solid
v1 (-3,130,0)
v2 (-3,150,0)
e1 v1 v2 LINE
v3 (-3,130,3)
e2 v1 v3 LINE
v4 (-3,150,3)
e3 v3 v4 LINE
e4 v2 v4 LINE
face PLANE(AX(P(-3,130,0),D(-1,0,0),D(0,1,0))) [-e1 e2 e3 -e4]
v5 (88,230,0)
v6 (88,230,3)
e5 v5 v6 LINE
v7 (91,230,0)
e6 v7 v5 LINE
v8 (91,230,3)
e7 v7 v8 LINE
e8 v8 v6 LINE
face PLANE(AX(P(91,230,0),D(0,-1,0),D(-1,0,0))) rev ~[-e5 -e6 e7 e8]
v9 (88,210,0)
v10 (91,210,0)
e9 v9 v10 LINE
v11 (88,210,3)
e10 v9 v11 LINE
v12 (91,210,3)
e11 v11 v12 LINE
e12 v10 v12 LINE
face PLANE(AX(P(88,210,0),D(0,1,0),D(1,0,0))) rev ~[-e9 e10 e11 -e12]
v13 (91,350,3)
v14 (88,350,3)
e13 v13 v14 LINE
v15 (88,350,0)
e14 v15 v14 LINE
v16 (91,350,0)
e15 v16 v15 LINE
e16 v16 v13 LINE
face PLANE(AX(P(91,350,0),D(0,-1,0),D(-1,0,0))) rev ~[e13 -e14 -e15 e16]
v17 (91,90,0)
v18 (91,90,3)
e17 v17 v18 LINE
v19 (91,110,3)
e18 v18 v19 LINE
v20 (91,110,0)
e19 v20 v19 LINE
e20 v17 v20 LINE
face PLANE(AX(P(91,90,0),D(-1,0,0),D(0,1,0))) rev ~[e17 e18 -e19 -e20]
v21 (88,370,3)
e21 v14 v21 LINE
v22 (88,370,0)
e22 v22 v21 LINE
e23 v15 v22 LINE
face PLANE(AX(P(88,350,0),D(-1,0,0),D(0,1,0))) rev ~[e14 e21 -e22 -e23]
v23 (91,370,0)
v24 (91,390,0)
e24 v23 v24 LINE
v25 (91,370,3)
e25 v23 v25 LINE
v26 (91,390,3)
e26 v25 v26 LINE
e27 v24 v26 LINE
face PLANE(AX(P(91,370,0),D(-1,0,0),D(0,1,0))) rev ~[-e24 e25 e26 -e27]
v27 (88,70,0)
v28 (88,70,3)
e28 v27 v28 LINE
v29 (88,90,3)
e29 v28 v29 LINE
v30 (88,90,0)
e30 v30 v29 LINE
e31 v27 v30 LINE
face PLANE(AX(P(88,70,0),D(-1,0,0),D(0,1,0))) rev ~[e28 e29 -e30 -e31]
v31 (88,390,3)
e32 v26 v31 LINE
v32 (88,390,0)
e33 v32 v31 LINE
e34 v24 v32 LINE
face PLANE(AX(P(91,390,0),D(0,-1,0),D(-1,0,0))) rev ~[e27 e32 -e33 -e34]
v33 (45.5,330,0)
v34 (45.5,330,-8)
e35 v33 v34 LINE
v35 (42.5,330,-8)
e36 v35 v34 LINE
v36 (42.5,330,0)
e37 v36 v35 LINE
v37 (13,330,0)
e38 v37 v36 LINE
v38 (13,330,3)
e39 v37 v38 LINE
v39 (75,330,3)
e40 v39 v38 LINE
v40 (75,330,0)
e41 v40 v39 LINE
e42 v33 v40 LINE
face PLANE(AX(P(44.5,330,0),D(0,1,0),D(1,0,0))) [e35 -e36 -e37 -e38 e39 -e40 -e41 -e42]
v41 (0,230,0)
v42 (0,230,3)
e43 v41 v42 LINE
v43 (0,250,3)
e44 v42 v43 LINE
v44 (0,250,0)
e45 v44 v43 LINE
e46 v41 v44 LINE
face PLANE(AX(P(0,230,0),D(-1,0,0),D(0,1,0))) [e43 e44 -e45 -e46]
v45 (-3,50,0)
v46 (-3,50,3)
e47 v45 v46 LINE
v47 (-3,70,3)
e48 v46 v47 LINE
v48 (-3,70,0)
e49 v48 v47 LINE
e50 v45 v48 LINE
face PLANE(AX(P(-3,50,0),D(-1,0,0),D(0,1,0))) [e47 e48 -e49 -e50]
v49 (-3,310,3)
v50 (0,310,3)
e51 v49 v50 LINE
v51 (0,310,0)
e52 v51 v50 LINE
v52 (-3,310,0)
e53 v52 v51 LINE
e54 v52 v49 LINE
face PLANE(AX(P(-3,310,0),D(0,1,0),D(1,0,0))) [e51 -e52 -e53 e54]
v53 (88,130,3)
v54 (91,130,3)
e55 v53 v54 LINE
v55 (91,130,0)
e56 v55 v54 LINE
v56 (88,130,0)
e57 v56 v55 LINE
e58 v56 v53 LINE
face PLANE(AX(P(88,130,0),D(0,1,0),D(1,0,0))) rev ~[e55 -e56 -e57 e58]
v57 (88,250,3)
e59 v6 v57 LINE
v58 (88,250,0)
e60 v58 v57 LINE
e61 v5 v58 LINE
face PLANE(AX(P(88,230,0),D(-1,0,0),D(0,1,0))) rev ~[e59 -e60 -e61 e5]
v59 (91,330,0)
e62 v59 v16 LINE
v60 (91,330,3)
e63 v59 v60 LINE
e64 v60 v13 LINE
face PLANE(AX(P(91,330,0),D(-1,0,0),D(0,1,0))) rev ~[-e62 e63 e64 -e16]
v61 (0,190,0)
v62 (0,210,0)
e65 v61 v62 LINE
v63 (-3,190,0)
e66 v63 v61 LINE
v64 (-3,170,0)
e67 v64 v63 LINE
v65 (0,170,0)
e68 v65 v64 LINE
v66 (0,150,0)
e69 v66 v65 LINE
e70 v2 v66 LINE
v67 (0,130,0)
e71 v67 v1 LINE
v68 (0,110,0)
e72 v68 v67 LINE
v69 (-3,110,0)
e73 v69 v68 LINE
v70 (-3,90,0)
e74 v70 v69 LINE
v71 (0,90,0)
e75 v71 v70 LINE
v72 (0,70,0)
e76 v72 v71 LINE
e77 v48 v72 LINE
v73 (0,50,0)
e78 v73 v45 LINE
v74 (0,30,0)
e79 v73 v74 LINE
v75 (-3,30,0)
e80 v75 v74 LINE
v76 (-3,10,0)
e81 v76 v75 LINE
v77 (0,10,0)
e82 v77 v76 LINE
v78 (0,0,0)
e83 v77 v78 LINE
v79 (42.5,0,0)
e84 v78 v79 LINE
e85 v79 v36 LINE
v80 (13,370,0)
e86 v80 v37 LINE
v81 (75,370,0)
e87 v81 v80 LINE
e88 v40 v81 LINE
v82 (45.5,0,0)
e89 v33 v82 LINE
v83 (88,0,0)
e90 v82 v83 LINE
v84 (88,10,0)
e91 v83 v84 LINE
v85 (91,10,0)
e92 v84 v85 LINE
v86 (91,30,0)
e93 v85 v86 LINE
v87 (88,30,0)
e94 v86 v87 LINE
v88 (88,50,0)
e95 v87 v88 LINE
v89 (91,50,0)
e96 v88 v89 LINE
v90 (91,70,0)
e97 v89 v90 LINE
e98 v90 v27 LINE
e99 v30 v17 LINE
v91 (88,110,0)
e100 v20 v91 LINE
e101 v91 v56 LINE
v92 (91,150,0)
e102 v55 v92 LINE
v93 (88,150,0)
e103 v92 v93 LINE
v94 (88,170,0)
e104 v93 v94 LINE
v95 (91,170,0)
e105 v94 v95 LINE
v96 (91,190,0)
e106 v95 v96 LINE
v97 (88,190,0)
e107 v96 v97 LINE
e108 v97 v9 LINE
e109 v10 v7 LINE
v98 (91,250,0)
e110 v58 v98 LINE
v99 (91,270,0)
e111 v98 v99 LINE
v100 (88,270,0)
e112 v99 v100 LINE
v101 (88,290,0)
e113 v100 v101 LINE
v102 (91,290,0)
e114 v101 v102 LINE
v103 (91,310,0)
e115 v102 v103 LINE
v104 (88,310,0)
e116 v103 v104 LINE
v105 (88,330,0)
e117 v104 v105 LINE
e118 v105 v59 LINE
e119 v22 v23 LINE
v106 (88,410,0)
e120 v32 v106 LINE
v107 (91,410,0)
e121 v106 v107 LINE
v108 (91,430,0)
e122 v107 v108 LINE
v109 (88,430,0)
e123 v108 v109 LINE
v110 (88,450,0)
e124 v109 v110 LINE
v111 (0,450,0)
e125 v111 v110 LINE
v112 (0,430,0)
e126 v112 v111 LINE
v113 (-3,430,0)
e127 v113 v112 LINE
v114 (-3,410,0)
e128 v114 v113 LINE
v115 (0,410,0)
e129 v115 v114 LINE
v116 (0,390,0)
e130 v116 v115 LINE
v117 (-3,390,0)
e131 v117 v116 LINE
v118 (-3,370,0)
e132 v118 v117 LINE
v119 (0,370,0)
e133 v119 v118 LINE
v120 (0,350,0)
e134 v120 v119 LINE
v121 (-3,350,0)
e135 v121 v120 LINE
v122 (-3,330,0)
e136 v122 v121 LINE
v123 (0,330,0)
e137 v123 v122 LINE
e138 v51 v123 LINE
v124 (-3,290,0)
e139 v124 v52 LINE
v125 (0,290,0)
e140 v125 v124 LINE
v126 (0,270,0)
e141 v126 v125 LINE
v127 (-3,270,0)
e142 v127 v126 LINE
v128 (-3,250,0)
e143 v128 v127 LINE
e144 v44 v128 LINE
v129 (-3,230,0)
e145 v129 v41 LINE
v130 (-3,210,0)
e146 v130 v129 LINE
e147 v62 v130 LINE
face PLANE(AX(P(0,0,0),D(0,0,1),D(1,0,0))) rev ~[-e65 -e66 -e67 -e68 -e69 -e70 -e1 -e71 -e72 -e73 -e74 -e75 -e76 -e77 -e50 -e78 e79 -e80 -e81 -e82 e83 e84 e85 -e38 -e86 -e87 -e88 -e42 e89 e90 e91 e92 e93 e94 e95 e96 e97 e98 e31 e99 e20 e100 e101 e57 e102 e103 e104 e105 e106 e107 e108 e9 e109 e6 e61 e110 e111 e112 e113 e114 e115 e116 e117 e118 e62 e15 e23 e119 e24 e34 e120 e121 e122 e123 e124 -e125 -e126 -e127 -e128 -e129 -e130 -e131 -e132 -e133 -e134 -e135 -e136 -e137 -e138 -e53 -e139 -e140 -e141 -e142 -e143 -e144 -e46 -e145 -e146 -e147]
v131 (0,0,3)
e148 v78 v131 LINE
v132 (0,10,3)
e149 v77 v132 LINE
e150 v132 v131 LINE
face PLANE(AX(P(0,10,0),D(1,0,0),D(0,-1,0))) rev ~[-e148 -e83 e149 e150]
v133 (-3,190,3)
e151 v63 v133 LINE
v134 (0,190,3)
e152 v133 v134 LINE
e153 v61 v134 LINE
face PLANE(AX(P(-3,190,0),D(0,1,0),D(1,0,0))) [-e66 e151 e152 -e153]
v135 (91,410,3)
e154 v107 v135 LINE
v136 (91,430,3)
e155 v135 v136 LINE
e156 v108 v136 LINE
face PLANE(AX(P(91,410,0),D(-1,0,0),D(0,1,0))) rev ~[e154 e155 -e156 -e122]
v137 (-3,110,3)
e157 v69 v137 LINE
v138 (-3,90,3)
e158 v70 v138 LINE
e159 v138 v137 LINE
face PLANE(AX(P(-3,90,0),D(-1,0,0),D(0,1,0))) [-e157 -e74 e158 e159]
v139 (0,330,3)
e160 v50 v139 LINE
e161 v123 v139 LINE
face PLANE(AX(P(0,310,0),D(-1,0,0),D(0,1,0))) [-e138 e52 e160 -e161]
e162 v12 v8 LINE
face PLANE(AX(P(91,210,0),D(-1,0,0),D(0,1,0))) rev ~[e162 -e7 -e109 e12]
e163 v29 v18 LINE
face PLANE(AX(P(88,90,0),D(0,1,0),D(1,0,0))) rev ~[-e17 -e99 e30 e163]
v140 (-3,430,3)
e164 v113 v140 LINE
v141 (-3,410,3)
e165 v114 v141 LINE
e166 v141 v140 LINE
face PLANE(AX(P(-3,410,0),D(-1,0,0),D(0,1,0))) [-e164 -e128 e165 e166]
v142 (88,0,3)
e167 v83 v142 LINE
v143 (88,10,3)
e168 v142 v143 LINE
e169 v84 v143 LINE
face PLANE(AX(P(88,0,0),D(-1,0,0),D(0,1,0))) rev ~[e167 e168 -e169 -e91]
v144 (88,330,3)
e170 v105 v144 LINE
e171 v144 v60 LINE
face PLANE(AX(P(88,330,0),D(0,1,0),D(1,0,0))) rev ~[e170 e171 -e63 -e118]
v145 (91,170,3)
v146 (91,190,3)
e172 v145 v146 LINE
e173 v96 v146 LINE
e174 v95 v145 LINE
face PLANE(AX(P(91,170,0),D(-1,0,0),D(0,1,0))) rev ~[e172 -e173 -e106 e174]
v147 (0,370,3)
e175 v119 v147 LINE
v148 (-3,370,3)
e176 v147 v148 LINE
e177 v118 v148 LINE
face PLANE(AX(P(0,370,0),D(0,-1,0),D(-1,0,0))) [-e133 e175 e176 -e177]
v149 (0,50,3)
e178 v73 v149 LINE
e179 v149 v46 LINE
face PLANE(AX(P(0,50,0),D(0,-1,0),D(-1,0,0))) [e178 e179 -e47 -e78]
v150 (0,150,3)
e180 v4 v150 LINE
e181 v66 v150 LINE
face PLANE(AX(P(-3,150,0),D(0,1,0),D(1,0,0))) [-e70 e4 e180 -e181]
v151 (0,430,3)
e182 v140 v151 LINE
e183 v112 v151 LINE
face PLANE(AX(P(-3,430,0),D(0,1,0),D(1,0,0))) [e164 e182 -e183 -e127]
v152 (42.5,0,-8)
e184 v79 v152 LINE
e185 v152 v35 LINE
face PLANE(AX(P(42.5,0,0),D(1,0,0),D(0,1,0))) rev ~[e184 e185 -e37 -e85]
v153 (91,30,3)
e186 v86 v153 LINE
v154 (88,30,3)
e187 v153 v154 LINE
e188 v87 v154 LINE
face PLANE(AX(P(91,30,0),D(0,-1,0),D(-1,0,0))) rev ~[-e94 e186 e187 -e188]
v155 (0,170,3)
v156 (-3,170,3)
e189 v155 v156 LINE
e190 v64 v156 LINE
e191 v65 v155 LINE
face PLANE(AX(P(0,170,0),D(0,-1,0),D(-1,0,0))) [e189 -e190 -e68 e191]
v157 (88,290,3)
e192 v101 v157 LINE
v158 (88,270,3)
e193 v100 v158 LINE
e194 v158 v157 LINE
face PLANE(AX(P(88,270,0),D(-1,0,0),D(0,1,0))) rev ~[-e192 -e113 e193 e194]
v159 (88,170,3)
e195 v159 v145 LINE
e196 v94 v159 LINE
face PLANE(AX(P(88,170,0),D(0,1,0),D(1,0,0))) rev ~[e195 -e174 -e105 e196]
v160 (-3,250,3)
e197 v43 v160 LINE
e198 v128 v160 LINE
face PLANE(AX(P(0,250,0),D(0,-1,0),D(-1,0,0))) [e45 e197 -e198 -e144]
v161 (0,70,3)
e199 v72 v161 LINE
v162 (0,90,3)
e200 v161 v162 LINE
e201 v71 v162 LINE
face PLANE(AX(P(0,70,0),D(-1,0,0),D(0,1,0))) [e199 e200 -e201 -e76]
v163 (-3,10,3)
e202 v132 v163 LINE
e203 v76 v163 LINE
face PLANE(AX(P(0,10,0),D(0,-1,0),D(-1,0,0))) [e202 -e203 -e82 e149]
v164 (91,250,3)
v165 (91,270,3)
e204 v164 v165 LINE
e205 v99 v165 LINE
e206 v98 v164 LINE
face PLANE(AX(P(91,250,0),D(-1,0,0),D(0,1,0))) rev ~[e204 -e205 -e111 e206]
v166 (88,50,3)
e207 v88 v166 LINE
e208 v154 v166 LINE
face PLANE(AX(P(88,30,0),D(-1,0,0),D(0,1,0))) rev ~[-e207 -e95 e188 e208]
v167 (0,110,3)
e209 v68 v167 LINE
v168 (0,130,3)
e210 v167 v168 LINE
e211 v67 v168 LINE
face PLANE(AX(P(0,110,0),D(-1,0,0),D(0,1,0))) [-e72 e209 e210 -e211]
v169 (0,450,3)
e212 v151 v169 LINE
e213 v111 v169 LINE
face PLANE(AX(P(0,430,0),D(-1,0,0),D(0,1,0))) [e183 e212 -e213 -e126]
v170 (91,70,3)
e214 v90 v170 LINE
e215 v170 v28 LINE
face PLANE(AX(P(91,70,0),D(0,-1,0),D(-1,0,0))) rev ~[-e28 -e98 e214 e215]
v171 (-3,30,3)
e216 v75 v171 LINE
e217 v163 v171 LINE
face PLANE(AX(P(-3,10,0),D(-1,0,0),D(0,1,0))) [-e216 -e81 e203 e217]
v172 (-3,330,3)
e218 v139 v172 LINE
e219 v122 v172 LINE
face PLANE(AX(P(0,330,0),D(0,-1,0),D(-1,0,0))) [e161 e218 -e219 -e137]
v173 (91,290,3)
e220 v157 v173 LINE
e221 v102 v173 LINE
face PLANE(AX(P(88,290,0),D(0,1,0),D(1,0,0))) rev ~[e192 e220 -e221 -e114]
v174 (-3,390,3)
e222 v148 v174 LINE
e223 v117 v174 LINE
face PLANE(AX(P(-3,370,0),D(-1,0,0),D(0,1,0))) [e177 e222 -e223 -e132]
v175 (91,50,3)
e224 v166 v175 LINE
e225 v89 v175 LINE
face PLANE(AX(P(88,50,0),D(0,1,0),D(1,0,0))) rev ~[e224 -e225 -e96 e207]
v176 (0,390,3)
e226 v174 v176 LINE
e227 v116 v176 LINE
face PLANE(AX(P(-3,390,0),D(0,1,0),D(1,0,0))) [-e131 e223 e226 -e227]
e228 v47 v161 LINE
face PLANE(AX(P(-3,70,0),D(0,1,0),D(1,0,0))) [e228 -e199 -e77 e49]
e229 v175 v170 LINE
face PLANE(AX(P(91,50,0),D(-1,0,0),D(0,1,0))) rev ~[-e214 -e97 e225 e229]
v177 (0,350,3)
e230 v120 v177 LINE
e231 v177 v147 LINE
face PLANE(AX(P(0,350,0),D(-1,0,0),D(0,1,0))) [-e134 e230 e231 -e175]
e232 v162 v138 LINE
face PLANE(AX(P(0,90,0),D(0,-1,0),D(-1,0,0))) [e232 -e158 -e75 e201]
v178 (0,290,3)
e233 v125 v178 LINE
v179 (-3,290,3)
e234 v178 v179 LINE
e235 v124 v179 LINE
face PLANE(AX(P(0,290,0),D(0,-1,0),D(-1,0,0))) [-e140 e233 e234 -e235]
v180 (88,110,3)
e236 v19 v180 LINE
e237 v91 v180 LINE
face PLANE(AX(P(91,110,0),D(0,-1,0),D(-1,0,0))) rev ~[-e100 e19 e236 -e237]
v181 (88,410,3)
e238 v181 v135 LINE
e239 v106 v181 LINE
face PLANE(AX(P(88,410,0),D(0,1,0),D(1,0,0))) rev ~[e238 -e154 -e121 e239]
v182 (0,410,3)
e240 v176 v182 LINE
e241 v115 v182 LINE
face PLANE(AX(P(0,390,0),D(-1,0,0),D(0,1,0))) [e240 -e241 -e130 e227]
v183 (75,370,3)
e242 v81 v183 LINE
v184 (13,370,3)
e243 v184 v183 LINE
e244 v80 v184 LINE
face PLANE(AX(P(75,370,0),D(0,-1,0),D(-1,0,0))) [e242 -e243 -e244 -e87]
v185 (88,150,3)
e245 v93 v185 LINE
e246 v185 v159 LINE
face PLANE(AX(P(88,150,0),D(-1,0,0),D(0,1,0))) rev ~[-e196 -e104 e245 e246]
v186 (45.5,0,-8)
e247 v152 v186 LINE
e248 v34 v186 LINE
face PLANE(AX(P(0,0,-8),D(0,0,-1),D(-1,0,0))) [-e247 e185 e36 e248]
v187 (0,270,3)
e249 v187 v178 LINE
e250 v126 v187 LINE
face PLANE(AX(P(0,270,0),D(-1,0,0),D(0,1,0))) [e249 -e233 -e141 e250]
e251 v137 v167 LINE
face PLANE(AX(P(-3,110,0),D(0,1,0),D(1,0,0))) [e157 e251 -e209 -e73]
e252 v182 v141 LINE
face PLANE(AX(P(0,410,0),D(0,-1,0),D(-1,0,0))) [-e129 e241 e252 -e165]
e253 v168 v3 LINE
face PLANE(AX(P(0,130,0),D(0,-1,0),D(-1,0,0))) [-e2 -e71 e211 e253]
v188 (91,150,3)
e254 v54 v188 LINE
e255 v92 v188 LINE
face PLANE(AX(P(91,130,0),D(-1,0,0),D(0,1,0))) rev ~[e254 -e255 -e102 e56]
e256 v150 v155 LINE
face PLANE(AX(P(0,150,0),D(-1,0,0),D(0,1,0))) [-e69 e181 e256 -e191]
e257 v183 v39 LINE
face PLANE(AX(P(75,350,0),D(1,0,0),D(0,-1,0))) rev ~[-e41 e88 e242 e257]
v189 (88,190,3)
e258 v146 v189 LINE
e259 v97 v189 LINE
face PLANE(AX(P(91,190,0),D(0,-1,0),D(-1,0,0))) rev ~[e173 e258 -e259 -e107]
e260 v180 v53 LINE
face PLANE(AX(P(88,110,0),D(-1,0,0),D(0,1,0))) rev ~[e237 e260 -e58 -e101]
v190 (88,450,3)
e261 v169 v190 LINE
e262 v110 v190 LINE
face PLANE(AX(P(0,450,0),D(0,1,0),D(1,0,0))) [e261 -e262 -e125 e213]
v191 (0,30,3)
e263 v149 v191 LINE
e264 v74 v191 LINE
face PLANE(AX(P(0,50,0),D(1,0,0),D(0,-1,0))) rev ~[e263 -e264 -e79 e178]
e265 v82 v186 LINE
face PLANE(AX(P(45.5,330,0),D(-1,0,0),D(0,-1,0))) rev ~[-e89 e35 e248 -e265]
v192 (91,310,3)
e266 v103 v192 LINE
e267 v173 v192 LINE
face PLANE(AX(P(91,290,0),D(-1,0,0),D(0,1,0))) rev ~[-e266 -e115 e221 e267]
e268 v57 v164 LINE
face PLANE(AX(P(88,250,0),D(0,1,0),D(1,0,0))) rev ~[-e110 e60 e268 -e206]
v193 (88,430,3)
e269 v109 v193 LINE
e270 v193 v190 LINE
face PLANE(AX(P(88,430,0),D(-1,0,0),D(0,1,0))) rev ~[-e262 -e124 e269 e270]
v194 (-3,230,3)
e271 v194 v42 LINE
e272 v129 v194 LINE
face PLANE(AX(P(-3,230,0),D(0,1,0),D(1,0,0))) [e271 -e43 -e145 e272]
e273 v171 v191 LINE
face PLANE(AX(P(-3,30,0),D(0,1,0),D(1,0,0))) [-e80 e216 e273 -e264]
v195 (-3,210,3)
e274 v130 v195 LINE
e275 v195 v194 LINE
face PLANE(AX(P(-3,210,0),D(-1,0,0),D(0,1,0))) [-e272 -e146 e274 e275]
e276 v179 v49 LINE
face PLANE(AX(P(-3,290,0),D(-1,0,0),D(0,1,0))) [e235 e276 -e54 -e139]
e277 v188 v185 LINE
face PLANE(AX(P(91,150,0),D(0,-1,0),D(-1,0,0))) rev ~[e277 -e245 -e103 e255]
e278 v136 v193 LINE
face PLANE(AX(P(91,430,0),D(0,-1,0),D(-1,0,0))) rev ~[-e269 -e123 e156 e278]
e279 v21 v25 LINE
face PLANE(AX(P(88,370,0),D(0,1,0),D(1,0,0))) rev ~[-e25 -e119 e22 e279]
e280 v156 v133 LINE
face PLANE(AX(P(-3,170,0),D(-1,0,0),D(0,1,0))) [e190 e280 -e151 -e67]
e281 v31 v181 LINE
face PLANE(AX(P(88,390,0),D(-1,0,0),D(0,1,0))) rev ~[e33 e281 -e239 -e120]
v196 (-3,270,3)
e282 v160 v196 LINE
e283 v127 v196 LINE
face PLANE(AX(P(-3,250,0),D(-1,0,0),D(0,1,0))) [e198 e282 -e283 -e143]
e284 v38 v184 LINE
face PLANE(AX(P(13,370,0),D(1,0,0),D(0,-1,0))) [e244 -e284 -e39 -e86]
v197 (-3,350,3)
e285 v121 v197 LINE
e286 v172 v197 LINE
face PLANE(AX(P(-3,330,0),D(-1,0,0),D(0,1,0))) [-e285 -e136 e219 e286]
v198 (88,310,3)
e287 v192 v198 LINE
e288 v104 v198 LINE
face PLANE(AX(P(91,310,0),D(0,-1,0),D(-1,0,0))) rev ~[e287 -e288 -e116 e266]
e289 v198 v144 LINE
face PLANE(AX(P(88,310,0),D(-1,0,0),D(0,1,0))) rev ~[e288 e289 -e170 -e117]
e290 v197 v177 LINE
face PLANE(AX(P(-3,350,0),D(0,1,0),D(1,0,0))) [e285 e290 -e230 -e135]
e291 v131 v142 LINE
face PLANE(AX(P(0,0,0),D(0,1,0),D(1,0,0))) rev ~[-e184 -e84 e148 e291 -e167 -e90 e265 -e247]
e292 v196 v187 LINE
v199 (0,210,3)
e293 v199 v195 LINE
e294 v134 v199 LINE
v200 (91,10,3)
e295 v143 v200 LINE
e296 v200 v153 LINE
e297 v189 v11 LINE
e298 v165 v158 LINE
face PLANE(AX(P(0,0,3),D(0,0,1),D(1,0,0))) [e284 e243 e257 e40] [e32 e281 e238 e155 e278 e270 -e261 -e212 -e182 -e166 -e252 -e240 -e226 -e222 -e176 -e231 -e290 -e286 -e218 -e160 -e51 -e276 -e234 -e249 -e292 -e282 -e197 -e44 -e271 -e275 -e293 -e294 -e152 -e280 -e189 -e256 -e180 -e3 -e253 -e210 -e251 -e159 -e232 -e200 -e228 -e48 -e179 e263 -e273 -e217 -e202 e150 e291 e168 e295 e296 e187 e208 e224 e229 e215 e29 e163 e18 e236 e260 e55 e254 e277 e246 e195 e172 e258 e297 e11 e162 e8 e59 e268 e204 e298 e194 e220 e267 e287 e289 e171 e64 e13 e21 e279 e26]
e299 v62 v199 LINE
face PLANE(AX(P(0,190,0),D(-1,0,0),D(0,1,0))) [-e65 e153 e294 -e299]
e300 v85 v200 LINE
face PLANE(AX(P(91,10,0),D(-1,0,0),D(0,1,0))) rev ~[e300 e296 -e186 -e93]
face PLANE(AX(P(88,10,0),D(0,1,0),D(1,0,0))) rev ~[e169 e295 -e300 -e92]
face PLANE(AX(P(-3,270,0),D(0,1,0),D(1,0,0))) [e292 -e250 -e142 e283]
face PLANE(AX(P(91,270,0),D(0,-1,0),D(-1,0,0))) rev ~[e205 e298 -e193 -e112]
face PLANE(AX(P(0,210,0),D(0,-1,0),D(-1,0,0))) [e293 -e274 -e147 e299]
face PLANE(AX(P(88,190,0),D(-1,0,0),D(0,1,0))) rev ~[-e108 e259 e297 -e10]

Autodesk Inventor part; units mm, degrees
ref_plane "YZ Plane" through (0, 0, 0) normal (1, 0, 0) x (0, 1, 0)
ref_plane "XZ Plane" through (0, 0, 0) normal (0, 1, 0) x (-1, 0, 0)
ref_plane "XY Plane" through (0, 0, 0) normal (0, 0, 1) x (1, 0, 0)
sketch "Sketch1" plane through (0, 0, 0) normal (0, 0, 1) x (1, 0, 0)
  line L0 (0, 0) -> (88, 0)
  line L1 (88, 0) -> (88, 10)
  line L2 (88, 10) -> (91, 10)
  line L3 (91, 10) -> (91, 30)
  line L4 (91, 30) -> (88, 30)
  line L5 (88, 30) -> (88, 50)
  line L6 (88, 50) -> (91, 50)
  line L7 (91, 50) -> (91, 70)
  line L8 (91, 70) -> (88, 70)
  line L9 (88, 70) -> (88, 90)
  line L10 (88, 90) -> (91, 90)
  line L11 (91, 90) -> (91, 110)
  line L12 (91, 110) -> (88, 110)
  line L13 (88, 110) -> (88, 130)
  line L14 (88, 130) -> (91, 130)
  line L15 (91, 130) -> (91, 150)
  line L16 (91, 150) -> (88, 150)
  line L17 (88, 150) -> (88, 170)
  line L18 (88, 170) -> (91, 170)
  line L19 (91, 170) -> (91, 190)
  line L20 (91, 190) -> (88, 190)
  line L21 (88, 190) -> (88, 210)
  line L22 (88, 210) -> (91, 210)
  line L23 (91, 210) -> (91, 230)
  line L24 (91, 230) -> (88, 230)
  line L25 (88, 230) -> (88, 250)
  line L26 (88, 250) -> (91, 250)
  line L27 (91, 250) -> (91, 270)
  line L28 (91, 270) -> (88, 270)
  line L29 (88, 270) -> (88, 290)
  line L30 (88, 290) -> (91, 290)
  line L31 (91, 290) -> (91, 310)
  line L32 (91, 310) -> (88, 310)
  line L33 (88, 310) -> (88, 330)
  line L34 (88, 330) -> (91, 330)
  line L35 (91, 330) -> (91, 350)
  line L36 (91, 350) -> (88, 350)
  line L37 (88, 350) -> (88, 370)
  line L38 (88, 370) -> (91, 370)
  line L39 (91, 370) -> (91, 390)
  line L40 (91, 390) -> (88, 390)
  line L41 (88, 390) -> (88, 410)
  line L42 (88, 410) -> (91, 410)
  line L43 (91, 410) -> (91, 430)
  line L44 (91, 430) -> (88, 430)
  line L45 (44, 0) -> (44, 110) construction
  line L46 (-3, 10) -> (-3, 30)
  line L47 (-3, 30) -> (0, 30)
  line L48 (0, 10) -> (-3, 10)
  line L49 (0, 50) -> (-3, 50)
  line L50 (-3, 50) -> (-3, 70)
  line L51 (0, 70) -> (0, 90)
  line L52 (0, 90) -> (-3, 90)
  line L53 (-3, 90) -> (-3, 110)
  line L54 (-3, 70) -> (0, 70)
  line L55 (-3, 110) -> (0, 110)
  line L56 (0, 110) -> (0, 130)
  line L57 (0, 130) -> (-3, 130)
  line L58 (-3, 130) -> (-3, 150)
  line L59 (-3, 170) -> (-3, 190)
  line L60 (0, 150) -> (0, 170)
  line L61 (0, 170) -> (-3, 170)
  line L62 (-3, 150) -> (0, 150)
  line L63 (0, 190) -> (0, 210)
  line L64 (-3, 190) -> (0, 190)
  line L65 (0, 210) -> (-3, 210)
  line L66 (-3, 210) -> (-3, 230)
  line L67 (-3, 230) -> (0, 230)
  line L68 (0, 230) -> (0, 250)
  line L69 (0, 250) -> (-3, 250)
  line L70 (-3, 250) -> (-3, 270)
  line L71 (-3, 270) -> (0, 270)
  line L72 (0, 270) -> (0, 290)
  line L73 (0, 290) -> (-3, 290)
  line L74 (-3, 290) -> (-3, 310)
  line L75 (-3, 310) -> (0, 310)
  line L76 (0, 310) -> (0, 330)
  line L77 (0, 350) -> (0, 370)
  line L78 (-3, 350) -> (0, 350)
  line L79 (-3, 330) -> (-3, 350)
  line L80 (0, 330) -> (-3, 330)
  line L81 (0, 370) -> (-3, 370)
  line L82 (-3, 370) -> (-3, 390)
  line L83 (-3, 390) -> (0, 390)
  line L84 (0, 390) -> (0, 410)
  line L85 (0, 410) -> (-3, 410)
  line L86 (-3, 410) -> (-3, 430)
  line L87 (-3, 430) -> (0, 430)
  line L88 (0, 430) -> (0, 450)
  line L89 (0, 450) -> (88, 450)
  line L90 (88, 430) -> (88, 450)
  line L91 (0, 50) -> (0, 30)
  line L92 (0, 10) -> (0, 0)
  point P0 (0, 0)
  dimension "d1" = 10
  dimension "d2" = 3
  dimension "d3" = 20
  dimension "d4" = 3
  dimension "d5" = 20
  dimension "d6" = 20
  dimension "d7" = 20
  dimension "d8" = 20
  dimension "d9" = 20
  dimension "d10" = 3
  dimension "d11" = 20
  dimension "d12" = 20
  dimension "d13" = 20
  dimension "d14" = 3
  dimension "d15" = 20
  dimension "d16" = 3
  dimension "d17" = 20
  dimension "d18" = 20
  dimension "d19" = 20
  dimension "d20" = 3
  dimension "d21" = 20
  dimension "d22" = 20
  dimension "d23" = 20
  dimension "d24" = 20
  dimension "d25" = 20
  dimension "d26" = 20
  dimension "d27" = 20
  dimension "d28" = 20
  dimension "d30" = 0
  dimension "d31" = 0
  dimension "d34" = 110
  dimension "d35" = 0
  dimension "d36" = 0
  dimension "d37" = 0
  dimension "d38" = 0
  dimension "d39" = 3
  dimension "d43" = 88
  dimension "d65" = 20
extrude "Extrusion1" add sketch "Sketch1" along normal blind 3
sketch "Sketch4" plane through (0, 0, 0) normal (0, 0, -1) x (-1, 0, 0)
  line L0 (-98.5, 430) -> (-44, 430)
  line L1 (-91, 430) -> (3, 430) projected
  line L2 (-44.5, 330) -> (-75, 330)
  line L3 (-75, 350) -> (-75, 0) projected
  line L4 (-75, 330) -> (-75, 370)
  line L5 (-75, 370) -> (-43, 370)
  line L6 (-43, 370) -> (-13, 370)
  line L7 (-13, 370) -> (-13, 330)
  line L8 (-13, 330) -> (-44.5, 330)
  line L9 (0, 370) -> (0, 350) projected
  point P0 (0, 0)
  dimension "d55" = 30
  dimension "d58" = 60
  dimension "d59" = 40
  dimension "d61" = 30.5
  dimension "d62" = 0
  dimension "d63" = 80
  dimension "d64" = 23.5
  dimension "d66" = 13
extrude "Extrusion4" cut sketch "Sketch4" against normal blind 19
sketch "Sketch5" plane through (0, 0, 3) normal (0, 0, 1) x (1, 0, 0)
  point P0 (0, 0)
sketch "Sketch6" plane through (0, 0, 0) normal (0, 0, -1) x (-1, 0, 0)
  line L0 (0, 0) -> (-88, 0) projected
  line L1 (-44, 0) -> (-44, 330)
  line L2 (-75, 330) -> (-13, 330) projected
  line L3 (-44, 0) -> (-42.5, 0)
  line L4 (-42.5, 0) -> (-42.5, 330)
  line L5 (-44, 330) -> (-45.5, 330)
  line L6 (-45.5, 330) -> (-45.5, 0)
  line L7 (-44, 0) -> (-45.5, 0)
  dimension "d67" = 1.5
  dimension "d68" = 1.5
extrude "Extrusion5" add sketch "Sketch6" along normal blind 8
ref_plane "Work Plane1" through (44, 430, 0) normal (1, 0, 0) x (0, 0, -1)
properties part number "Part4 box" material "Wood (Birch)"
